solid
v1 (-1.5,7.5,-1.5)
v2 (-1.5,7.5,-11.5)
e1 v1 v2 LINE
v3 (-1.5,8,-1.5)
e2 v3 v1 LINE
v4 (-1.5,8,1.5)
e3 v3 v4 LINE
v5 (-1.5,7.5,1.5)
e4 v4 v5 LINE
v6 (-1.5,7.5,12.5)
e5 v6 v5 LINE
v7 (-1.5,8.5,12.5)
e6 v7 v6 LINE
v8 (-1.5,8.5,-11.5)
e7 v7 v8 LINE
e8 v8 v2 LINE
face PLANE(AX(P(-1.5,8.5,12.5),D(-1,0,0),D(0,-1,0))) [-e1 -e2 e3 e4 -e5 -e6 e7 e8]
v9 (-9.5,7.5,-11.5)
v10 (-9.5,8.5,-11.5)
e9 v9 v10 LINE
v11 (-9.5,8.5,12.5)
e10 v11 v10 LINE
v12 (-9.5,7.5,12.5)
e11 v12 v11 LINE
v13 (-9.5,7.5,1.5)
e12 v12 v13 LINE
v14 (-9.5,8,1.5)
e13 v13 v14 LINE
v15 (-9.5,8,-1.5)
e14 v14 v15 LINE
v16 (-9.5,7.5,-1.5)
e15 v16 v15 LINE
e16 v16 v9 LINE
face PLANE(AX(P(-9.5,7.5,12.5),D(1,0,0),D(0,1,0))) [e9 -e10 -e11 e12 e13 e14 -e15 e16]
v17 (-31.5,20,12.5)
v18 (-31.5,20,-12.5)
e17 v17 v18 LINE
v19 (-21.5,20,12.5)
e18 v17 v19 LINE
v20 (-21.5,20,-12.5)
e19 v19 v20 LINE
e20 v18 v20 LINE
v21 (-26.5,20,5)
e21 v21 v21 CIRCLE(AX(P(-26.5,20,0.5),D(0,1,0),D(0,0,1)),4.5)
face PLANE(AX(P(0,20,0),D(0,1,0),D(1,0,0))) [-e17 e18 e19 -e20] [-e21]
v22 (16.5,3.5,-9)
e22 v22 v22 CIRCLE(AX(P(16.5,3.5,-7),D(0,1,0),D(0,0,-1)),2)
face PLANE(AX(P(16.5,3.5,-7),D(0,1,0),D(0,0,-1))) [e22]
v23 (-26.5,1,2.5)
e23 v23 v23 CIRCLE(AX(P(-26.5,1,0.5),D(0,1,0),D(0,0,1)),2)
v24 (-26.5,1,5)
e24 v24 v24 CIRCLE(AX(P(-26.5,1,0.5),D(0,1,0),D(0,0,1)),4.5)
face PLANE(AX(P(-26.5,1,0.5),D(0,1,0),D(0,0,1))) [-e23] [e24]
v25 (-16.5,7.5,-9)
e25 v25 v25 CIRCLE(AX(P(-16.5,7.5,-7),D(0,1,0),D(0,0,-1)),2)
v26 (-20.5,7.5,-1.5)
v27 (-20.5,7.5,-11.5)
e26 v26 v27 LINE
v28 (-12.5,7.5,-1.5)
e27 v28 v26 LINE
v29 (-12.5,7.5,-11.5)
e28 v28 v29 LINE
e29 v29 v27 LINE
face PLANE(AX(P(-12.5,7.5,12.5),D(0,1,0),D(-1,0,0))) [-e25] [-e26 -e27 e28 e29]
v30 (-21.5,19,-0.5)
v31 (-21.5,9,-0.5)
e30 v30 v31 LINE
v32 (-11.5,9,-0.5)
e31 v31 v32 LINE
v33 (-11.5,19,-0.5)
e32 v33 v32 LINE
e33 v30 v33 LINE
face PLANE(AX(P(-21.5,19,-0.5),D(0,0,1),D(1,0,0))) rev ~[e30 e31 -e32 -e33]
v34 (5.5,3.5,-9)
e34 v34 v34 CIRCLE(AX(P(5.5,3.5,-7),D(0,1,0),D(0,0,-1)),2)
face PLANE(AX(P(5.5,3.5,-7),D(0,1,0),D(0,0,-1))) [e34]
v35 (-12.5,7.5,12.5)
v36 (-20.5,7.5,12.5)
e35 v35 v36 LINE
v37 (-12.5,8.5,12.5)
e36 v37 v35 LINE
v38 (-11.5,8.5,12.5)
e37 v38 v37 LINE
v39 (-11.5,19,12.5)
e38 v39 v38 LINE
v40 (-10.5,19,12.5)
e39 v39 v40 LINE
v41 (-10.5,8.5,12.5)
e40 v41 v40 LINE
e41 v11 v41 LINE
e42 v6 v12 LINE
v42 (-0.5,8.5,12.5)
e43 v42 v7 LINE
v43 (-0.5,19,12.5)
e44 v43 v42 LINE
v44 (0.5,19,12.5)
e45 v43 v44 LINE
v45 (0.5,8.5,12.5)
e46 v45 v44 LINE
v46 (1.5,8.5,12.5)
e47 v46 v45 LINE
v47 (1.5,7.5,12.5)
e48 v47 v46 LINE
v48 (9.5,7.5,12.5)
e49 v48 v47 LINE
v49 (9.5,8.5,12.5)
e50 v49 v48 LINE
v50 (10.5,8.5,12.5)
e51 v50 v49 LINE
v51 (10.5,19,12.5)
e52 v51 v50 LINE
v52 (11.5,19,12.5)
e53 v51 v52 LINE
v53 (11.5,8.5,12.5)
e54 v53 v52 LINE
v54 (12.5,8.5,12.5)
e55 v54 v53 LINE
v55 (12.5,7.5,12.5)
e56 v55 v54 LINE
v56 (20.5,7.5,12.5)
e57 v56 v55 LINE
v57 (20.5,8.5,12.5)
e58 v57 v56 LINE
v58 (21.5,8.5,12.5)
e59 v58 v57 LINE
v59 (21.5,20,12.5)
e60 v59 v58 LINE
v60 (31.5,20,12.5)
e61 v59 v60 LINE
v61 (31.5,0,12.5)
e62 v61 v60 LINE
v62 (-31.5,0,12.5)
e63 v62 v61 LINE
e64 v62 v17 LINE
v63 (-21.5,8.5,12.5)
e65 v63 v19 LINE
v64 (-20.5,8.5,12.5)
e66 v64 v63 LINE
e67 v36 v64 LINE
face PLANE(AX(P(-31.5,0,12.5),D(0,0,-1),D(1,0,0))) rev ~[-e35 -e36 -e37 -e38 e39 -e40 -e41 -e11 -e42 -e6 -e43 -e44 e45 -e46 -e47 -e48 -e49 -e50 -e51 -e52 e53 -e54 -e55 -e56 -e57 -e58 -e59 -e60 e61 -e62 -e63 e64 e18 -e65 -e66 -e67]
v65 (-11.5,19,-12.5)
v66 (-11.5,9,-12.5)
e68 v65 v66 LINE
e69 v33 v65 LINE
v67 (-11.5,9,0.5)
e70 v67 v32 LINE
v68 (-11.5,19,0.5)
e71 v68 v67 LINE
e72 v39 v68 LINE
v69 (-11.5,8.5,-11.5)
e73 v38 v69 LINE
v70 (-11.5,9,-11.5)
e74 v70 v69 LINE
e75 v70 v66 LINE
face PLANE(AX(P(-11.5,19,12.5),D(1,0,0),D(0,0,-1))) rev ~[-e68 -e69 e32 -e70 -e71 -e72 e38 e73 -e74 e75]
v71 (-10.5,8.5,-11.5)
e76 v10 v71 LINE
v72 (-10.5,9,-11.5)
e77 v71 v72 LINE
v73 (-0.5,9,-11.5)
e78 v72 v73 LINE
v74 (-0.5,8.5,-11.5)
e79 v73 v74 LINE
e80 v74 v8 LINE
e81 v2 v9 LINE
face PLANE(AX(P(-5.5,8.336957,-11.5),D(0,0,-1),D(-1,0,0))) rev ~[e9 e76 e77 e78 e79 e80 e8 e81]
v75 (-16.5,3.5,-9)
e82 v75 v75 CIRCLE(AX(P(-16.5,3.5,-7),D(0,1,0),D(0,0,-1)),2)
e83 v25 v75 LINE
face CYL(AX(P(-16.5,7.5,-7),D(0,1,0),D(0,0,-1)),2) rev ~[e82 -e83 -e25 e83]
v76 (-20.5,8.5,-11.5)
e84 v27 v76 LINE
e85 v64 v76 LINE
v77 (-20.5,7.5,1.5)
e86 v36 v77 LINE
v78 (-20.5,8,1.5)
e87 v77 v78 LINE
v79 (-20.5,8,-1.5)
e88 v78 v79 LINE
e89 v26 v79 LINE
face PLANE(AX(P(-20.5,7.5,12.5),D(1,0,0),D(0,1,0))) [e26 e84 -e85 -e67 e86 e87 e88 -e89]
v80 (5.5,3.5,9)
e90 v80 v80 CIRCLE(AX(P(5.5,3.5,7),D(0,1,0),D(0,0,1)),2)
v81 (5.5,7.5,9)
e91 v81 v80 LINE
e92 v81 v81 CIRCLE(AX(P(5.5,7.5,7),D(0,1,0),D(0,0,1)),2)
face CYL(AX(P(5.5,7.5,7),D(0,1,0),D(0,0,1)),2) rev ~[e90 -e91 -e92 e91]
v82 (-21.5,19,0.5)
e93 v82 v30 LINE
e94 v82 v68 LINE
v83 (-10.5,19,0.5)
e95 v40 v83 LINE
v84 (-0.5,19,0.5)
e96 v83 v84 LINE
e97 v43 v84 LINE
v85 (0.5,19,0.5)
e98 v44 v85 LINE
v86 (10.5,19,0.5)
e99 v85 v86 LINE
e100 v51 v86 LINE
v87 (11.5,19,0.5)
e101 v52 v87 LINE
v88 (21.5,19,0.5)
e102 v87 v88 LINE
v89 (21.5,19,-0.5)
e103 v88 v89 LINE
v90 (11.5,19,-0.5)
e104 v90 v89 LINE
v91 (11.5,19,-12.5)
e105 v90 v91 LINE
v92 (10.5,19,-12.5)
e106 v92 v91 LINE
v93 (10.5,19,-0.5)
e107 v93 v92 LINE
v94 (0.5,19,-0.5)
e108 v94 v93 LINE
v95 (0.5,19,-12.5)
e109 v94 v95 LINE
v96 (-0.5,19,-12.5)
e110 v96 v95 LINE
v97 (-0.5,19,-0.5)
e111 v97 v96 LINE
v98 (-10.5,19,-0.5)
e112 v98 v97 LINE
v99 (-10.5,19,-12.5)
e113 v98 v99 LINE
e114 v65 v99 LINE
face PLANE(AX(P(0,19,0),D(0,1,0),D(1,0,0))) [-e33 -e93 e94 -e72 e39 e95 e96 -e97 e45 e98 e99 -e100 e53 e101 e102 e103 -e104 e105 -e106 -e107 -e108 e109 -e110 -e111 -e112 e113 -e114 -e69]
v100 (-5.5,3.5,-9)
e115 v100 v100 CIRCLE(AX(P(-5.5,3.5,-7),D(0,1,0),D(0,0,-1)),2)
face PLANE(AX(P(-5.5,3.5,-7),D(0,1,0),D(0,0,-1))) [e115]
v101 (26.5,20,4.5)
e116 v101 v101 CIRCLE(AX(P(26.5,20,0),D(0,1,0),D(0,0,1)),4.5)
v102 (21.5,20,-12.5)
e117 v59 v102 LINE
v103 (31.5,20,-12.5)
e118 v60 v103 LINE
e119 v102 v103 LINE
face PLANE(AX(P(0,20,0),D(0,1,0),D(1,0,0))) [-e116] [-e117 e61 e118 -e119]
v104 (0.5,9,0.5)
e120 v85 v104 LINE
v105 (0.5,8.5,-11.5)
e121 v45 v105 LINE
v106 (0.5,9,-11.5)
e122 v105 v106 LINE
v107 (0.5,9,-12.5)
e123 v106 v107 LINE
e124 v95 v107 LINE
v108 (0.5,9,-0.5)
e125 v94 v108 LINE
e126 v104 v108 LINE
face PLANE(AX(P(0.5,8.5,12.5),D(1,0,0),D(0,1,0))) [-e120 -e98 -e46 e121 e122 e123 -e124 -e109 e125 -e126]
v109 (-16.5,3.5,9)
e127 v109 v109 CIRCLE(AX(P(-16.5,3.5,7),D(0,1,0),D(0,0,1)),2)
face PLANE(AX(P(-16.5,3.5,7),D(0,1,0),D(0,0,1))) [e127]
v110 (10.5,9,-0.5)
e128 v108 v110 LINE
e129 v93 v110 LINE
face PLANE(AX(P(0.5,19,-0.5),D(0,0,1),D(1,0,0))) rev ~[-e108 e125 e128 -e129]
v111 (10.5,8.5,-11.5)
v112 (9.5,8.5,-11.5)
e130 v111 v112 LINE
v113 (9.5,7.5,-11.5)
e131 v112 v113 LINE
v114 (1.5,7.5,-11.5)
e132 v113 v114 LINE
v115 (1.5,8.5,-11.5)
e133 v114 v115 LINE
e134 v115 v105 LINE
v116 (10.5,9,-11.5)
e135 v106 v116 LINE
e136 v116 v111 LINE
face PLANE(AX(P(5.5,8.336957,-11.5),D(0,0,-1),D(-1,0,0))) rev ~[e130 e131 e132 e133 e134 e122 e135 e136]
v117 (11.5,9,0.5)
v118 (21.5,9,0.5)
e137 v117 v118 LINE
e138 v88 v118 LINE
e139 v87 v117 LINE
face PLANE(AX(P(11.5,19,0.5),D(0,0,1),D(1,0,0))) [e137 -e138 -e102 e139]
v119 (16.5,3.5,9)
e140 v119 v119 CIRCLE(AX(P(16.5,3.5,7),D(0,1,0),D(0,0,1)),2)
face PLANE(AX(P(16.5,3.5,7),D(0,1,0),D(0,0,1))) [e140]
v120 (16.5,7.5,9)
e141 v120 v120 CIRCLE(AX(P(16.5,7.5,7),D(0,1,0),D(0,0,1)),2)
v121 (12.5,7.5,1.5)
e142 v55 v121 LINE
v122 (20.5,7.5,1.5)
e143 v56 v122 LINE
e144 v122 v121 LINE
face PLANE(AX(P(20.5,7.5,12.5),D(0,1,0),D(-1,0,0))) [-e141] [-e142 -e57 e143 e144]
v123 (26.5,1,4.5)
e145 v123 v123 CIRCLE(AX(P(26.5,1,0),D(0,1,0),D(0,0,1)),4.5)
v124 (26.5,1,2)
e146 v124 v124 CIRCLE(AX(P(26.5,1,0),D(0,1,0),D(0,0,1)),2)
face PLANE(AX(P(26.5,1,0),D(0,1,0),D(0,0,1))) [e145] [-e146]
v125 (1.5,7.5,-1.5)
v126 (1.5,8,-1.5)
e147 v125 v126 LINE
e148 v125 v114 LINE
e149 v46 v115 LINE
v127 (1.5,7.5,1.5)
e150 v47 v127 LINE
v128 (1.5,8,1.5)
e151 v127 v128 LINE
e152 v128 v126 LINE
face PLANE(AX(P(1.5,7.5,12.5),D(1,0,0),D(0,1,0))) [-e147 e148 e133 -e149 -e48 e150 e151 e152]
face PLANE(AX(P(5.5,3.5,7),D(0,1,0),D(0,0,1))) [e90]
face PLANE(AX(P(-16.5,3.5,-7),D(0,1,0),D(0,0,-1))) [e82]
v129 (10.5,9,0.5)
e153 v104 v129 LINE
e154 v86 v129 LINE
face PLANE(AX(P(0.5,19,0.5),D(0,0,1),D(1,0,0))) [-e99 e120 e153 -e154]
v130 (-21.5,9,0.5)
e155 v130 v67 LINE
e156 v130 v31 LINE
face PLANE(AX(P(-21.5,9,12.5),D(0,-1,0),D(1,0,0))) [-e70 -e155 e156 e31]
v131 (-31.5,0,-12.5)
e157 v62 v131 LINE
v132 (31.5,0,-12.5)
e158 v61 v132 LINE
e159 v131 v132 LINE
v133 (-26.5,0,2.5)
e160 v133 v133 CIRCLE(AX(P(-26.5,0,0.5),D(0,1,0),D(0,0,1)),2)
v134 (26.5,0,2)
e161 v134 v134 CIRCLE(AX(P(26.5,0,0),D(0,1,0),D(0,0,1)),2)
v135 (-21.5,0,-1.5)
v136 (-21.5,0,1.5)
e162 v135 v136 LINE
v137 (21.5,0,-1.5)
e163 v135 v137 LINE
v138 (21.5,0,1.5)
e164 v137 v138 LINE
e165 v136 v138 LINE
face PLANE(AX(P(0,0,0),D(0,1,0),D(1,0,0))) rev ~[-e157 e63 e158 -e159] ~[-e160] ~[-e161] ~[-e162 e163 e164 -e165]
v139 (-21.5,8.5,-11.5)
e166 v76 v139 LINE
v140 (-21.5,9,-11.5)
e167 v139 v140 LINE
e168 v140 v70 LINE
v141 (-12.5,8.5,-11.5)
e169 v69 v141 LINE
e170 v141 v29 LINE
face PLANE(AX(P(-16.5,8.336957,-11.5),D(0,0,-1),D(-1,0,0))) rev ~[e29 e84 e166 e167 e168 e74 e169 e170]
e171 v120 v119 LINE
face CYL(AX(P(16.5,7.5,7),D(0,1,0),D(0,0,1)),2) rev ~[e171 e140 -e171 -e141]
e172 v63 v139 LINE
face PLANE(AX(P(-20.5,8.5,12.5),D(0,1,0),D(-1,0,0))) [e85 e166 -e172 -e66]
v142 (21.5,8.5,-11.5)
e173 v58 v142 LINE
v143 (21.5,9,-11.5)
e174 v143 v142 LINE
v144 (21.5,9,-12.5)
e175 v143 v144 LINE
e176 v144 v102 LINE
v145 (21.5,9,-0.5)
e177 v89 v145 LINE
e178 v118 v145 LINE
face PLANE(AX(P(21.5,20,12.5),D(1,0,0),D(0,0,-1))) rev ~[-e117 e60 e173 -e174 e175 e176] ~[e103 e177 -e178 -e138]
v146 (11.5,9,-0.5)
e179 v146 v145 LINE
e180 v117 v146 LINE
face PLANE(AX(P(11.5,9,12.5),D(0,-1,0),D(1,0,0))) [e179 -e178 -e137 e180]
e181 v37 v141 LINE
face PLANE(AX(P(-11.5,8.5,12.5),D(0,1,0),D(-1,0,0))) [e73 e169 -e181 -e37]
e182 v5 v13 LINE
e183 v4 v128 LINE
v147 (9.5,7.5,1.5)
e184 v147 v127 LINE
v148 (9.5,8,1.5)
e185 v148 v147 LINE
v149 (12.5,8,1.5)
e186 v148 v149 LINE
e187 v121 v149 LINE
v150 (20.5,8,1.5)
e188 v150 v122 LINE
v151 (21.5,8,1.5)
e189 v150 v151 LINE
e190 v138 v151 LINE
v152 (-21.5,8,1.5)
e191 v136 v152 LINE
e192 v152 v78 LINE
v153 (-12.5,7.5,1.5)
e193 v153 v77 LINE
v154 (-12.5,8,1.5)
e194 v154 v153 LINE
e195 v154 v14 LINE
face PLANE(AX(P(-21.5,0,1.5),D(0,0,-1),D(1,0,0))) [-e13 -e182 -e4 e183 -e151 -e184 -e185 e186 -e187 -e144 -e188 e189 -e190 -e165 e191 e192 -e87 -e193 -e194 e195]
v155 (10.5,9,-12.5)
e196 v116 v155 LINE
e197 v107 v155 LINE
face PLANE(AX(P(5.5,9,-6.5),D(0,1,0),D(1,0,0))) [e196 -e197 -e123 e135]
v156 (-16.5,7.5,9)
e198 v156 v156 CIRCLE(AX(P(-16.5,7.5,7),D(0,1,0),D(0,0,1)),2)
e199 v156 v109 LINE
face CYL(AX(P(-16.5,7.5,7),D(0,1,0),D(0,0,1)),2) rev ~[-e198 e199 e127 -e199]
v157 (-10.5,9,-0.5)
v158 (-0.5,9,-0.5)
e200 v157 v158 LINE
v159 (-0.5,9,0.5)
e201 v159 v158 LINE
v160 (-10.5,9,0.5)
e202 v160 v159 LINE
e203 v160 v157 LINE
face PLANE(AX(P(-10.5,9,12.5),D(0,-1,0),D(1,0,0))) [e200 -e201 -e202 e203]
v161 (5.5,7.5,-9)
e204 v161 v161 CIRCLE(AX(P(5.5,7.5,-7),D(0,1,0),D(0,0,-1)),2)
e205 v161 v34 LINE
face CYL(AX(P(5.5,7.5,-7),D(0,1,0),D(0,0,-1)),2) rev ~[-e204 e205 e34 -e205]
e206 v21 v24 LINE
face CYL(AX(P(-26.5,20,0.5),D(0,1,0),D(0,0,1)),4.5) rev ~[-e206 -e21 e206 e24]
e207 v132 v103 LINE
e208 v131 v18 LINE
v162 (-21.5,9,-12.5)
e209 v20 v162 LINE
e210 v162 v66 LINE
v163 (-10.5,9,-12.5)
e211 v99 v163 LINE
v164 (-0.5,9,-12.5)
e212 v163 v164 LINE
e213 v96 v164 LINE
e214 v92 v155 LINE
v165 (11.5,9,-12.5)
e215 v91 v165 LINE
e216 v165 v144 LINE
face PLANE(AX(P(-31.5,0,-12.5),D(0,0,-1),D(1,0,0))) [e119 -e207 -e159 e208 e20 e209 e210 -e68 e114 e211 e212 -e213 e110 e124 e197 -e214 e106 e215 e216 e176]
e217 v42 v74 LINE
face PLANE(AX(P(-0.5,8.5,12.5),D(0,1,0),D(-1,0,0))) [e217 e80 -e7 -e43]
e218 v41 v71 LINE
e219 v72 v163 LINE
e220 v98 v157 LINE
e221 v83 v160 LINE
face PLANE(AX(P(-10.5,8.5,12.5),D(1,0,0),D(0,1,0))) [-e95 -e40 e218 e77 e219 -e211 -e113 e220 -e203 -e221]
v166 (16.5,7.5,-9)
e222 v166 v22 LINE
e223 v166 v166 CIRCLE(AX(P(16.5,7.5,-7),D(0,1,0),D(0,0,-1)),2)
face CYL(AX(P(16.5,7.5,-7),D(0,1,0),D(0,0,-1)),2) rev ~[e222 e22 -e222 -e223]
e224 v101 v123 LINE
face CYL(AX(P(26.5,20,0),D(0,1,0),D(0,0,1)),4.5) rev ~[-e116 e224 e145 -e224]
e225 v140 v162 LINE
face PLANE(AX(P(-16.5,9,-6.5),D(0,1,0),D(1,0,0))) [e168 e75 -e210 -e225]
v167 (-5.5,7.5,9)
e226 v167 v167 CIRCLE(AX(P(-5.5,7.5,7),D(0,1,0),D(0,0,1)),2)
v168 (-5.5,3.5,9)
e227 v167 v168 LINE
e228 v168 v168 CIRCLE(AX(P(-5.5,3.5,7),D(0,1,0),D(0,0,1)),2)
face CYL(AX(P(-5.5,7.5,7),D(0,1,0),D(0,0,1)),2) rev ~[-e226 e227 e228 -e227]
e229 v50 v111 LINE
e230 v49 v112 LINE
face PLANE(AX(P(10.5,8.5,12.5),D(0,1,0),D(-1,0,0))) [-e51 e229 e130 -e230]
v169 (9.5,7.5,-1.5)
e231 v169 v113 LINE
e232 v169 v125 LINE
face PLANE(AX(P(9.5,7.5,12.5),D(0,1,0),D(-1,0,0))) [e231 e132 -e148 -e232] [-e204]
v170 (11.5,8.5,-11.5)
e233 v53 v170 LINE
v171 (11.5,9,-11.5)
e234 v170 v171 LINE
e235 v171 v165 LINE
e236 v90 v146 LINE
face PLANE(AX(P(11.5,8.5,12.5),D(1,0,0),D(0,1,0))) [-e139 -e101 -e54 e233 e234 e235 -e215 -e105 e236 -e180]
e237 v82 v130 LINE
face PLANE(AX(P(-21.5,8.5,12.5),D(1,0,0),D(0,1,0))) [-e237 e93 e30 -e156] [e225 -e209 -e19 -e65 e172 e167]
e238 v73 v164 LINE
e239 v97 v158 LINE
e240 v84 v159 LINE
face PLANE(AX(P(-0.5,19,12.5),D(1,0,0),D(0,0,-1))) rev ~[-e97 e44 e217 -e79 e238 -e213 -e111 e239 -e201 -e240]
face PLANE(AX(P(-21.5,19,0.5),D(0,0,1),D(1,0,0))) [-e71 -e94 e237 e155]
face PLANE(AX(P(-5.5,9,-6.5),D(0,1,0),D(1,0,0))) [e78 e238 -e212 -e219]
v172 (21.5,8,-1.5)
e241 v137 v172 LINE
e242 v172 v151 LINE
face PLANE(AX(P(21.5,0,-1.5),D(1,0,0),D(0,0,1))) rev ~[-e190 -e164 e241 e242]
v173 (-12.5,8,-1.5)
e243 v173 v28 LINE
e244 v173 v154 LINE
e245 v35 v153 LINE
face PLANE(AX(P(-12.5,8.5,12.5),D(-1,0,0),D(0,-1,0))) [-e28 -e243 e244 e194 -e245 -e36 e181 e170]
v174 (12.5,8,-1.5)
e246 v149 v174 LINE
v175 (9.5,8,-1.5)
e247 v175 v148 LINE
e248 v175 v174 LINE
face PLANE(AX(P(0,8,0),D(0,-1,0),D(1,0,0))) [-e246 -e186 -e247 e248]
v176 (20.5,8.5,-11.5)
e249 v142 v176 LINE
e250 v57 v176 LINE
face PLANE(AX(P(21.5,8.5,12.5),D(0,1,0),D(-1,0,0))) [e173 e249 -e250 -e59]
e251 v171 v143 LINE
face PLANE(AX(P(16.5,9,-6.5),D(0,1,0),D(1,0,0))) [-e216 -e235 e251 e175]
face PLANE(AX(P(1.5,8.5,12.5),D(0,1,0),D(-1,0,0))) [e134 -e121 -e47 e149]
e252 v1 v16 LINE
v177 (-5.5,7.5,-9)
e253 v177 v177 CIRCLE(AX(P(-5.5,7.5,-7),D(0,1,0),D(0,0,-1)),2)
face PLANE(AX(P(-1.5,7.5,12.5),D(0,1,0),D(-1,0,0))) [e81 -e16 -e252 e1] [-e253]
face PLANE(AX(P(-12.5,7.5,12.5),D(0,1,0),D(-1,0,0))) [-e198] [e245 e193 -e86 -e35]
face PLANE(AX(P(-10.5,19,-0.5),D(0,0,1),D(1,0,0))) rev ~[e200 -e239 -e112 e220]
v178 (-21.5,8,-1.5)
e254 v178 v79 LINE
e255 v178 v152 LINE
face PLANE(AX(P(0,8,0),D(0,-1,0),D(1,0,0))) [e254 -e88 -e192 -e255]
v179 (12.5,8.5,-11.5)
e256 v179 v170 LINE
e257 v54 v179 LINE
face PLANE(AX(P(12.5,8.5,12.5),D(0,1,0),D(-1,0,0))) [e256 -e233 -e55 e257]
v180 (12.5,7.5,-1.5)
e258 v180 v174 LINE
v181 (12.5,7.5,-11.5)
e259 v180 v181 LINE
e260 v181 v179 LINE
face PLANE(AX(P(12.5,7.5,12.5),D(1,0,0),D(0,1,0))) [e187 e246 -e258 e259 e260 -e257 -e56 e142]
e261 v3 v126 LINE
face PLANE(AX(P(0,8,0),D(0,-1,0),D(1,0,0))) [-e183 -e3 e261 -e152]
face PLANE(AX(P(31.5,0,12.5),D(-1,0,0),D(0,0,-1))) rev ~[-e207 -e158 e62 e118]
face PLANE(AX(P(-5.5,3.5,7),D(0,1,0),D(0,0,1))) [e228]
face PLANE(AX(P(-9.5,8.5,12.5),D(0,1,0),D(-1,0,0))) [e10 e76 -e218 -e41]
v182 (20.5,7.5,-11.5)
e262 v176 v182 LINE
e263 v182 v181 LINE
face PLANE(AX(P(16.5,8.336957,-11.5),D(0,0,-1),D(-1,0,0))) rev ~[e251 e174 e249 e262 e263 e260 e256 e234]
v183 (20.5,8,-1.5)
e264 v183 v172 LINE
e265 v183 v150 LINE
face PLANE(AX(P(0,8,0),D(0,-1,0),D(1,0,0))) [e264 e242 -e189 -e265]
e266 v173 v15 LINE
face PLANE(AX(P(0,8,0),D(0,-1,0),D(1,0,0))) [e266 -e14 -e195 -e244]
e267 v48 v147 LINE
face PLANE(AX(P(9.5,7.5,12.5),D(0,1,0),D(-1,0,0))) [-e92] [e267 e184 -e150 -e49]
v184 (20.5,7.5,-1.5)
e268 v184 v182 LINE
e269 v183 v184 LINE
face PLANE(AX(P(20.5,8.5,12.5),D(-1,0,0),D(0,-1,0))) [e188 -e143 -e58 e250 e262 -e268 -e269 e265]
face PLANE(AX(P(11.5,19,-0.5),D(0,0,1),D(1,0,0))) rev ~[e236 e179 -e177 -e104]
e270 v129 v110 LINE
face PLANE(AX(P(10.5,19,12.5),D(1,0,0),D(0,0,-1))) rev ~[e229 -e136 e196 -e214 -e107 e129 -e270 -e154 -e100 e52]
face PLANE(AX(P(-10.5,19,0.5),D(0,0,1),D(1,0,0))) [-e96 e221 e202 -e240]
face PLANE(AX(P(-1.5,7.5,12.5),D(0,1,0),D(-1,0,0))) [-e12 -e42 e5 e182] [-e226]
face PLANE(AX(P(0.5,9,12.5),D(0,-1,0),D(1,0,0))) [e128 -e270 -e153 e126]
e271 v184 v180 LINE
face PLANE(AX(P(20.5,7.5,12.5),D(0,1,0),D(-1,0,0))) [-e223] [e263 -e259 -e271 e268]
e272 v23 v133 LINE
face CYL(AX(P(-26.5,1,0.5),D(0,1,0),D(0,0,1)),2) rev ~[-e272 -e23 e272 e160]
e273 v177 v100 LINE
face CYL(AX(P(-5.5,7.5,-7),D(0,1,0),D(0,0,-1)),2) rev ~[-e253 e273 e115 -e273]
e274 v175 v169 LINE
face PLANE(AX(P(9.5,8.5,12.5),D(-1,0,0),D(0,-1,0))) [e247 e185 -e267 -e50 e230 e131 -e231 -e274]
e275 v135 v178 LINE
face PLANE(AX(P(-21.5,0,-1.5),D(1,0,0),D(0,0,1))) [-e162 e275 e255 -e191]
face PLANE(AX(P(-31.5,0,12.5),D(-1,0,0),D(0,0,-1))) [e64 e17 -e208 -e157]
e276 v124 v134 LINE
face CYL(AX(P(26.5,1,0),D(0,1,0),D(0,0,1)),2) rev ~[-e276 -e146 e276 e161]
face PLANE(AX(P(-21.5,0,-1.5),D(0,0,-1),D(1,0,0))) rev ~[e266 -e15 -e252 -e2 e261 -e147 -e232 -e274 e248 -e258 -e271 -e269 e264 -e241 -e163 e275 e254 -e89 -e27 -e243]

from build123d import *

# Parameters (mm, degrees)
SKETCH2_W           = 63
SKETCH2_H           = 25
BOSS_EXTRUDE2_DEPTH = 20
SKETCH5_W           = 43
SKETCH5_H           = 25
CUT_EXTRUDE2_DEPTH  = 1
SKETCH6_W           = 10
SKETCH6_H           = 12
CUT_EXTRUDE3_DEPTH  = 10
CUT_EXTRUDE4_DEPTH  = 24
SKETCH8_W           = 43
SKETCH8_H           = 3
CUT_EXTRUDE5_DEPTH  = 8
SKETCH9_R           = 2
CUT_EXTRUDE6_DEPTH  = 4
SKETCH10_R          = 4.5
CUT_EXTRUDE7_DEPTH  = 19
SKETCH11_R          = 2
CUT_EXTRUDE8_DEPTH  = 19


with BuildPart() as part:
    # Sketch2 → Boss-Extrude2 (new body)
    with BuildSketch(Plane(origin=(0, 0, 0), x_dir=(1, 0, 0), z_dir=(0, 1, 0))):
        Rectangle(SKETCH2_W, SKETCH2_H)
    extrude(amount=BOSS_EXTRUDE2_DEPTH)

    # Sketch5 → Cut-Extrude2 (cut)
    with BuildSketch(Plane(origin=(0, 20, 0), x_dir=(1, 0, 0), z_dir=(0, 1, 0))):
        Rectangle(SKETCH5_W, SKETCH5_H)
    extrude(amount=-CUT_EXTRUDE2_DEPTH, mode=Mode.SUBTRACT)

    # Sketch6 → Cut-Extrude3 (cut)
    with BuildSketch(Plane(origin=(0, 19, 0), x_dir=(1, 0, 0), z_dir=(0, 1, 0))):
        with Locations((-16.5, 6.5)):
            Rectangle(SKETCH6_W, SKETCH6_H)
        with Locations((-16.5, -6.5)):
            Rectangle(SKETCH6_W, SKETCH6_H)
        with Locations((-5.5, -6.5)):
            Rectangle(SKETCH6_W, SKETCH6_H)
        with Locations((-5.5, 6.5)):
            Rectangle(SKETCH6_W, SKETCH6_H)
        with Locations((5.5, 6.5)):
            Rectangle(SKETCH6_W, SKETCH6_H)
        with Locations((5.5, -6.5)):
            Rectangle(SKETCH6_W, SKETCH6_H)
        with Locations((16.5, -6.5)):
            Rectangle(SKETCH6_W, SKETCH6_H)
        with Locations((16.5, 6.5)):
            Rectangle(SKETCH6_W, SKETCH6_H)
    extrude(amount=-CUT_EXTRUDE3_DEPTH, mode=Mode.SUBTRACT)

    # Sketch7 → Cut-Extrude4 (cut)
    with BuildSketch(Plane.XY.offset(12.5)):
        Polygon((-21.5, 9), (-11.5, 9), (-11.5, 8.5), (-12.5, 8.5), (-12.5, 7.5), (-20.5, 7.5), (-20.5, 8.5), (-21.5, 8.5), align=None)
        Polygon((-10.5, 9), (-0.5, 9), (-0.5, 8.5), (-1.5, 8.5), (-1.5, 7.5), (-9.5, 7.5), (-9.5, 8.5), (-10.5, 8.5), align=None)
        Polygon((0.5, 9), (10.5, 9), (10.5, 8.5), (9.5, 8.5), (9.5, 7.5), (1.5, 7.5), (1.5, 8.5), (0.5, 8.5), align=None)
        Polygon((11.5, 9), (21.5, 9), (21.5, 8.5), (20.5, 8.5), (20.5, 7.5), (12.5, 7.5), (12.5, 8.5), (11.5, 8.5), align=None)
    extrude(amount=-CUT_EXTRUDE4_DEPTH, mode=Mode.SUBTRACT)

    # Sketch8 → Cut-Extrude5 (cut)
    with BuildSketch(Plane.XZ):
        Rectangle(SKETCH8_W, SKETCH8_H)
    extrude(amount=-CUT_EXTRUDE5_DEPTH, mode=Mode.SUBTRACT)

    # Sketch9 → Cut-Extrude6 (cut)
    with BuildSketch(Plane(origin=(0, 7.5, 0), x_dir=(1, 0, 0), z_dir=(0, 1, 0))):
        with Locations(Location((-16.5, -7, 0), (0, 0, 270))):
            Circle(SKETCH9_R)
        with Locations(Location((-5.5, -7, 0), (0, 0, 270))):
            Circle(SKETCH9_R)
        with Locations(Location((5.5, -7, 0), (0, 0, 270))):
            Circle(SKETCH9_R)
        with Locations(Location((16.5, -7, 0), (0, 0, 270))):
            Circle(SKETCH9_R)
        with Locations(Location((16.5, 7, 0), (0, 0, 90))):
            Circle(SKETCH9_R)
        with Locations(Location((5.5, 7, 0), (0, 0, 90))):
            Circle(SKETCH9_R)
        with Locations(Location((-5.5, 7, 0), (0, 0, 90))):
            Circle(SKETCH9_R)
        with Locations(Location((-16.5, 7, 0), (0, 0, 90))):
            Circle(SKETCH9_R)
    extrude(amount=-CUT_EXTRUDE6_DEPTH, mode=Mode.SUBTRACT)

    # Sketch10 → Cut-Extrude7 (cut)
    with BuildSketch(Plane(origin=(0, 20, 0), x_dir=(1, 0, 0), z_dir=(0, 1, 0))):
        with Locations(Location((26.5, 0, 0), (0, 0, 270))):
            Circle(SKETCH10_R)
        with Locations(Location((-26.5, -0.5, 0), (0, 0, 270))):
            Circle(SKETCH10_R)
    extrude(amount=-CUT_EXTRUDE7_DEPTH, mode=Mode.SUBTRACT)

    # Sketch11 → Cut-Extrude8 (cut)
    with BuildSketch(Plane(origin=(0, 1, 0), x_dir=(1, 0, 0), z_dir=(0, 1, 0))):
        with Locations(Location((-26.5, -0.5, 0), (0, 0, 270))):
            Circle(SKETCH11_R)
        with Locations(Location((26.5, 0, 0), (0, 0, 270))):
            Circle(SKETCH11_R)
    extrude(amount=-CUT_EXTRUDE8_DEPTH, mode=Mode.SUBTRACT)


solid = part.part
